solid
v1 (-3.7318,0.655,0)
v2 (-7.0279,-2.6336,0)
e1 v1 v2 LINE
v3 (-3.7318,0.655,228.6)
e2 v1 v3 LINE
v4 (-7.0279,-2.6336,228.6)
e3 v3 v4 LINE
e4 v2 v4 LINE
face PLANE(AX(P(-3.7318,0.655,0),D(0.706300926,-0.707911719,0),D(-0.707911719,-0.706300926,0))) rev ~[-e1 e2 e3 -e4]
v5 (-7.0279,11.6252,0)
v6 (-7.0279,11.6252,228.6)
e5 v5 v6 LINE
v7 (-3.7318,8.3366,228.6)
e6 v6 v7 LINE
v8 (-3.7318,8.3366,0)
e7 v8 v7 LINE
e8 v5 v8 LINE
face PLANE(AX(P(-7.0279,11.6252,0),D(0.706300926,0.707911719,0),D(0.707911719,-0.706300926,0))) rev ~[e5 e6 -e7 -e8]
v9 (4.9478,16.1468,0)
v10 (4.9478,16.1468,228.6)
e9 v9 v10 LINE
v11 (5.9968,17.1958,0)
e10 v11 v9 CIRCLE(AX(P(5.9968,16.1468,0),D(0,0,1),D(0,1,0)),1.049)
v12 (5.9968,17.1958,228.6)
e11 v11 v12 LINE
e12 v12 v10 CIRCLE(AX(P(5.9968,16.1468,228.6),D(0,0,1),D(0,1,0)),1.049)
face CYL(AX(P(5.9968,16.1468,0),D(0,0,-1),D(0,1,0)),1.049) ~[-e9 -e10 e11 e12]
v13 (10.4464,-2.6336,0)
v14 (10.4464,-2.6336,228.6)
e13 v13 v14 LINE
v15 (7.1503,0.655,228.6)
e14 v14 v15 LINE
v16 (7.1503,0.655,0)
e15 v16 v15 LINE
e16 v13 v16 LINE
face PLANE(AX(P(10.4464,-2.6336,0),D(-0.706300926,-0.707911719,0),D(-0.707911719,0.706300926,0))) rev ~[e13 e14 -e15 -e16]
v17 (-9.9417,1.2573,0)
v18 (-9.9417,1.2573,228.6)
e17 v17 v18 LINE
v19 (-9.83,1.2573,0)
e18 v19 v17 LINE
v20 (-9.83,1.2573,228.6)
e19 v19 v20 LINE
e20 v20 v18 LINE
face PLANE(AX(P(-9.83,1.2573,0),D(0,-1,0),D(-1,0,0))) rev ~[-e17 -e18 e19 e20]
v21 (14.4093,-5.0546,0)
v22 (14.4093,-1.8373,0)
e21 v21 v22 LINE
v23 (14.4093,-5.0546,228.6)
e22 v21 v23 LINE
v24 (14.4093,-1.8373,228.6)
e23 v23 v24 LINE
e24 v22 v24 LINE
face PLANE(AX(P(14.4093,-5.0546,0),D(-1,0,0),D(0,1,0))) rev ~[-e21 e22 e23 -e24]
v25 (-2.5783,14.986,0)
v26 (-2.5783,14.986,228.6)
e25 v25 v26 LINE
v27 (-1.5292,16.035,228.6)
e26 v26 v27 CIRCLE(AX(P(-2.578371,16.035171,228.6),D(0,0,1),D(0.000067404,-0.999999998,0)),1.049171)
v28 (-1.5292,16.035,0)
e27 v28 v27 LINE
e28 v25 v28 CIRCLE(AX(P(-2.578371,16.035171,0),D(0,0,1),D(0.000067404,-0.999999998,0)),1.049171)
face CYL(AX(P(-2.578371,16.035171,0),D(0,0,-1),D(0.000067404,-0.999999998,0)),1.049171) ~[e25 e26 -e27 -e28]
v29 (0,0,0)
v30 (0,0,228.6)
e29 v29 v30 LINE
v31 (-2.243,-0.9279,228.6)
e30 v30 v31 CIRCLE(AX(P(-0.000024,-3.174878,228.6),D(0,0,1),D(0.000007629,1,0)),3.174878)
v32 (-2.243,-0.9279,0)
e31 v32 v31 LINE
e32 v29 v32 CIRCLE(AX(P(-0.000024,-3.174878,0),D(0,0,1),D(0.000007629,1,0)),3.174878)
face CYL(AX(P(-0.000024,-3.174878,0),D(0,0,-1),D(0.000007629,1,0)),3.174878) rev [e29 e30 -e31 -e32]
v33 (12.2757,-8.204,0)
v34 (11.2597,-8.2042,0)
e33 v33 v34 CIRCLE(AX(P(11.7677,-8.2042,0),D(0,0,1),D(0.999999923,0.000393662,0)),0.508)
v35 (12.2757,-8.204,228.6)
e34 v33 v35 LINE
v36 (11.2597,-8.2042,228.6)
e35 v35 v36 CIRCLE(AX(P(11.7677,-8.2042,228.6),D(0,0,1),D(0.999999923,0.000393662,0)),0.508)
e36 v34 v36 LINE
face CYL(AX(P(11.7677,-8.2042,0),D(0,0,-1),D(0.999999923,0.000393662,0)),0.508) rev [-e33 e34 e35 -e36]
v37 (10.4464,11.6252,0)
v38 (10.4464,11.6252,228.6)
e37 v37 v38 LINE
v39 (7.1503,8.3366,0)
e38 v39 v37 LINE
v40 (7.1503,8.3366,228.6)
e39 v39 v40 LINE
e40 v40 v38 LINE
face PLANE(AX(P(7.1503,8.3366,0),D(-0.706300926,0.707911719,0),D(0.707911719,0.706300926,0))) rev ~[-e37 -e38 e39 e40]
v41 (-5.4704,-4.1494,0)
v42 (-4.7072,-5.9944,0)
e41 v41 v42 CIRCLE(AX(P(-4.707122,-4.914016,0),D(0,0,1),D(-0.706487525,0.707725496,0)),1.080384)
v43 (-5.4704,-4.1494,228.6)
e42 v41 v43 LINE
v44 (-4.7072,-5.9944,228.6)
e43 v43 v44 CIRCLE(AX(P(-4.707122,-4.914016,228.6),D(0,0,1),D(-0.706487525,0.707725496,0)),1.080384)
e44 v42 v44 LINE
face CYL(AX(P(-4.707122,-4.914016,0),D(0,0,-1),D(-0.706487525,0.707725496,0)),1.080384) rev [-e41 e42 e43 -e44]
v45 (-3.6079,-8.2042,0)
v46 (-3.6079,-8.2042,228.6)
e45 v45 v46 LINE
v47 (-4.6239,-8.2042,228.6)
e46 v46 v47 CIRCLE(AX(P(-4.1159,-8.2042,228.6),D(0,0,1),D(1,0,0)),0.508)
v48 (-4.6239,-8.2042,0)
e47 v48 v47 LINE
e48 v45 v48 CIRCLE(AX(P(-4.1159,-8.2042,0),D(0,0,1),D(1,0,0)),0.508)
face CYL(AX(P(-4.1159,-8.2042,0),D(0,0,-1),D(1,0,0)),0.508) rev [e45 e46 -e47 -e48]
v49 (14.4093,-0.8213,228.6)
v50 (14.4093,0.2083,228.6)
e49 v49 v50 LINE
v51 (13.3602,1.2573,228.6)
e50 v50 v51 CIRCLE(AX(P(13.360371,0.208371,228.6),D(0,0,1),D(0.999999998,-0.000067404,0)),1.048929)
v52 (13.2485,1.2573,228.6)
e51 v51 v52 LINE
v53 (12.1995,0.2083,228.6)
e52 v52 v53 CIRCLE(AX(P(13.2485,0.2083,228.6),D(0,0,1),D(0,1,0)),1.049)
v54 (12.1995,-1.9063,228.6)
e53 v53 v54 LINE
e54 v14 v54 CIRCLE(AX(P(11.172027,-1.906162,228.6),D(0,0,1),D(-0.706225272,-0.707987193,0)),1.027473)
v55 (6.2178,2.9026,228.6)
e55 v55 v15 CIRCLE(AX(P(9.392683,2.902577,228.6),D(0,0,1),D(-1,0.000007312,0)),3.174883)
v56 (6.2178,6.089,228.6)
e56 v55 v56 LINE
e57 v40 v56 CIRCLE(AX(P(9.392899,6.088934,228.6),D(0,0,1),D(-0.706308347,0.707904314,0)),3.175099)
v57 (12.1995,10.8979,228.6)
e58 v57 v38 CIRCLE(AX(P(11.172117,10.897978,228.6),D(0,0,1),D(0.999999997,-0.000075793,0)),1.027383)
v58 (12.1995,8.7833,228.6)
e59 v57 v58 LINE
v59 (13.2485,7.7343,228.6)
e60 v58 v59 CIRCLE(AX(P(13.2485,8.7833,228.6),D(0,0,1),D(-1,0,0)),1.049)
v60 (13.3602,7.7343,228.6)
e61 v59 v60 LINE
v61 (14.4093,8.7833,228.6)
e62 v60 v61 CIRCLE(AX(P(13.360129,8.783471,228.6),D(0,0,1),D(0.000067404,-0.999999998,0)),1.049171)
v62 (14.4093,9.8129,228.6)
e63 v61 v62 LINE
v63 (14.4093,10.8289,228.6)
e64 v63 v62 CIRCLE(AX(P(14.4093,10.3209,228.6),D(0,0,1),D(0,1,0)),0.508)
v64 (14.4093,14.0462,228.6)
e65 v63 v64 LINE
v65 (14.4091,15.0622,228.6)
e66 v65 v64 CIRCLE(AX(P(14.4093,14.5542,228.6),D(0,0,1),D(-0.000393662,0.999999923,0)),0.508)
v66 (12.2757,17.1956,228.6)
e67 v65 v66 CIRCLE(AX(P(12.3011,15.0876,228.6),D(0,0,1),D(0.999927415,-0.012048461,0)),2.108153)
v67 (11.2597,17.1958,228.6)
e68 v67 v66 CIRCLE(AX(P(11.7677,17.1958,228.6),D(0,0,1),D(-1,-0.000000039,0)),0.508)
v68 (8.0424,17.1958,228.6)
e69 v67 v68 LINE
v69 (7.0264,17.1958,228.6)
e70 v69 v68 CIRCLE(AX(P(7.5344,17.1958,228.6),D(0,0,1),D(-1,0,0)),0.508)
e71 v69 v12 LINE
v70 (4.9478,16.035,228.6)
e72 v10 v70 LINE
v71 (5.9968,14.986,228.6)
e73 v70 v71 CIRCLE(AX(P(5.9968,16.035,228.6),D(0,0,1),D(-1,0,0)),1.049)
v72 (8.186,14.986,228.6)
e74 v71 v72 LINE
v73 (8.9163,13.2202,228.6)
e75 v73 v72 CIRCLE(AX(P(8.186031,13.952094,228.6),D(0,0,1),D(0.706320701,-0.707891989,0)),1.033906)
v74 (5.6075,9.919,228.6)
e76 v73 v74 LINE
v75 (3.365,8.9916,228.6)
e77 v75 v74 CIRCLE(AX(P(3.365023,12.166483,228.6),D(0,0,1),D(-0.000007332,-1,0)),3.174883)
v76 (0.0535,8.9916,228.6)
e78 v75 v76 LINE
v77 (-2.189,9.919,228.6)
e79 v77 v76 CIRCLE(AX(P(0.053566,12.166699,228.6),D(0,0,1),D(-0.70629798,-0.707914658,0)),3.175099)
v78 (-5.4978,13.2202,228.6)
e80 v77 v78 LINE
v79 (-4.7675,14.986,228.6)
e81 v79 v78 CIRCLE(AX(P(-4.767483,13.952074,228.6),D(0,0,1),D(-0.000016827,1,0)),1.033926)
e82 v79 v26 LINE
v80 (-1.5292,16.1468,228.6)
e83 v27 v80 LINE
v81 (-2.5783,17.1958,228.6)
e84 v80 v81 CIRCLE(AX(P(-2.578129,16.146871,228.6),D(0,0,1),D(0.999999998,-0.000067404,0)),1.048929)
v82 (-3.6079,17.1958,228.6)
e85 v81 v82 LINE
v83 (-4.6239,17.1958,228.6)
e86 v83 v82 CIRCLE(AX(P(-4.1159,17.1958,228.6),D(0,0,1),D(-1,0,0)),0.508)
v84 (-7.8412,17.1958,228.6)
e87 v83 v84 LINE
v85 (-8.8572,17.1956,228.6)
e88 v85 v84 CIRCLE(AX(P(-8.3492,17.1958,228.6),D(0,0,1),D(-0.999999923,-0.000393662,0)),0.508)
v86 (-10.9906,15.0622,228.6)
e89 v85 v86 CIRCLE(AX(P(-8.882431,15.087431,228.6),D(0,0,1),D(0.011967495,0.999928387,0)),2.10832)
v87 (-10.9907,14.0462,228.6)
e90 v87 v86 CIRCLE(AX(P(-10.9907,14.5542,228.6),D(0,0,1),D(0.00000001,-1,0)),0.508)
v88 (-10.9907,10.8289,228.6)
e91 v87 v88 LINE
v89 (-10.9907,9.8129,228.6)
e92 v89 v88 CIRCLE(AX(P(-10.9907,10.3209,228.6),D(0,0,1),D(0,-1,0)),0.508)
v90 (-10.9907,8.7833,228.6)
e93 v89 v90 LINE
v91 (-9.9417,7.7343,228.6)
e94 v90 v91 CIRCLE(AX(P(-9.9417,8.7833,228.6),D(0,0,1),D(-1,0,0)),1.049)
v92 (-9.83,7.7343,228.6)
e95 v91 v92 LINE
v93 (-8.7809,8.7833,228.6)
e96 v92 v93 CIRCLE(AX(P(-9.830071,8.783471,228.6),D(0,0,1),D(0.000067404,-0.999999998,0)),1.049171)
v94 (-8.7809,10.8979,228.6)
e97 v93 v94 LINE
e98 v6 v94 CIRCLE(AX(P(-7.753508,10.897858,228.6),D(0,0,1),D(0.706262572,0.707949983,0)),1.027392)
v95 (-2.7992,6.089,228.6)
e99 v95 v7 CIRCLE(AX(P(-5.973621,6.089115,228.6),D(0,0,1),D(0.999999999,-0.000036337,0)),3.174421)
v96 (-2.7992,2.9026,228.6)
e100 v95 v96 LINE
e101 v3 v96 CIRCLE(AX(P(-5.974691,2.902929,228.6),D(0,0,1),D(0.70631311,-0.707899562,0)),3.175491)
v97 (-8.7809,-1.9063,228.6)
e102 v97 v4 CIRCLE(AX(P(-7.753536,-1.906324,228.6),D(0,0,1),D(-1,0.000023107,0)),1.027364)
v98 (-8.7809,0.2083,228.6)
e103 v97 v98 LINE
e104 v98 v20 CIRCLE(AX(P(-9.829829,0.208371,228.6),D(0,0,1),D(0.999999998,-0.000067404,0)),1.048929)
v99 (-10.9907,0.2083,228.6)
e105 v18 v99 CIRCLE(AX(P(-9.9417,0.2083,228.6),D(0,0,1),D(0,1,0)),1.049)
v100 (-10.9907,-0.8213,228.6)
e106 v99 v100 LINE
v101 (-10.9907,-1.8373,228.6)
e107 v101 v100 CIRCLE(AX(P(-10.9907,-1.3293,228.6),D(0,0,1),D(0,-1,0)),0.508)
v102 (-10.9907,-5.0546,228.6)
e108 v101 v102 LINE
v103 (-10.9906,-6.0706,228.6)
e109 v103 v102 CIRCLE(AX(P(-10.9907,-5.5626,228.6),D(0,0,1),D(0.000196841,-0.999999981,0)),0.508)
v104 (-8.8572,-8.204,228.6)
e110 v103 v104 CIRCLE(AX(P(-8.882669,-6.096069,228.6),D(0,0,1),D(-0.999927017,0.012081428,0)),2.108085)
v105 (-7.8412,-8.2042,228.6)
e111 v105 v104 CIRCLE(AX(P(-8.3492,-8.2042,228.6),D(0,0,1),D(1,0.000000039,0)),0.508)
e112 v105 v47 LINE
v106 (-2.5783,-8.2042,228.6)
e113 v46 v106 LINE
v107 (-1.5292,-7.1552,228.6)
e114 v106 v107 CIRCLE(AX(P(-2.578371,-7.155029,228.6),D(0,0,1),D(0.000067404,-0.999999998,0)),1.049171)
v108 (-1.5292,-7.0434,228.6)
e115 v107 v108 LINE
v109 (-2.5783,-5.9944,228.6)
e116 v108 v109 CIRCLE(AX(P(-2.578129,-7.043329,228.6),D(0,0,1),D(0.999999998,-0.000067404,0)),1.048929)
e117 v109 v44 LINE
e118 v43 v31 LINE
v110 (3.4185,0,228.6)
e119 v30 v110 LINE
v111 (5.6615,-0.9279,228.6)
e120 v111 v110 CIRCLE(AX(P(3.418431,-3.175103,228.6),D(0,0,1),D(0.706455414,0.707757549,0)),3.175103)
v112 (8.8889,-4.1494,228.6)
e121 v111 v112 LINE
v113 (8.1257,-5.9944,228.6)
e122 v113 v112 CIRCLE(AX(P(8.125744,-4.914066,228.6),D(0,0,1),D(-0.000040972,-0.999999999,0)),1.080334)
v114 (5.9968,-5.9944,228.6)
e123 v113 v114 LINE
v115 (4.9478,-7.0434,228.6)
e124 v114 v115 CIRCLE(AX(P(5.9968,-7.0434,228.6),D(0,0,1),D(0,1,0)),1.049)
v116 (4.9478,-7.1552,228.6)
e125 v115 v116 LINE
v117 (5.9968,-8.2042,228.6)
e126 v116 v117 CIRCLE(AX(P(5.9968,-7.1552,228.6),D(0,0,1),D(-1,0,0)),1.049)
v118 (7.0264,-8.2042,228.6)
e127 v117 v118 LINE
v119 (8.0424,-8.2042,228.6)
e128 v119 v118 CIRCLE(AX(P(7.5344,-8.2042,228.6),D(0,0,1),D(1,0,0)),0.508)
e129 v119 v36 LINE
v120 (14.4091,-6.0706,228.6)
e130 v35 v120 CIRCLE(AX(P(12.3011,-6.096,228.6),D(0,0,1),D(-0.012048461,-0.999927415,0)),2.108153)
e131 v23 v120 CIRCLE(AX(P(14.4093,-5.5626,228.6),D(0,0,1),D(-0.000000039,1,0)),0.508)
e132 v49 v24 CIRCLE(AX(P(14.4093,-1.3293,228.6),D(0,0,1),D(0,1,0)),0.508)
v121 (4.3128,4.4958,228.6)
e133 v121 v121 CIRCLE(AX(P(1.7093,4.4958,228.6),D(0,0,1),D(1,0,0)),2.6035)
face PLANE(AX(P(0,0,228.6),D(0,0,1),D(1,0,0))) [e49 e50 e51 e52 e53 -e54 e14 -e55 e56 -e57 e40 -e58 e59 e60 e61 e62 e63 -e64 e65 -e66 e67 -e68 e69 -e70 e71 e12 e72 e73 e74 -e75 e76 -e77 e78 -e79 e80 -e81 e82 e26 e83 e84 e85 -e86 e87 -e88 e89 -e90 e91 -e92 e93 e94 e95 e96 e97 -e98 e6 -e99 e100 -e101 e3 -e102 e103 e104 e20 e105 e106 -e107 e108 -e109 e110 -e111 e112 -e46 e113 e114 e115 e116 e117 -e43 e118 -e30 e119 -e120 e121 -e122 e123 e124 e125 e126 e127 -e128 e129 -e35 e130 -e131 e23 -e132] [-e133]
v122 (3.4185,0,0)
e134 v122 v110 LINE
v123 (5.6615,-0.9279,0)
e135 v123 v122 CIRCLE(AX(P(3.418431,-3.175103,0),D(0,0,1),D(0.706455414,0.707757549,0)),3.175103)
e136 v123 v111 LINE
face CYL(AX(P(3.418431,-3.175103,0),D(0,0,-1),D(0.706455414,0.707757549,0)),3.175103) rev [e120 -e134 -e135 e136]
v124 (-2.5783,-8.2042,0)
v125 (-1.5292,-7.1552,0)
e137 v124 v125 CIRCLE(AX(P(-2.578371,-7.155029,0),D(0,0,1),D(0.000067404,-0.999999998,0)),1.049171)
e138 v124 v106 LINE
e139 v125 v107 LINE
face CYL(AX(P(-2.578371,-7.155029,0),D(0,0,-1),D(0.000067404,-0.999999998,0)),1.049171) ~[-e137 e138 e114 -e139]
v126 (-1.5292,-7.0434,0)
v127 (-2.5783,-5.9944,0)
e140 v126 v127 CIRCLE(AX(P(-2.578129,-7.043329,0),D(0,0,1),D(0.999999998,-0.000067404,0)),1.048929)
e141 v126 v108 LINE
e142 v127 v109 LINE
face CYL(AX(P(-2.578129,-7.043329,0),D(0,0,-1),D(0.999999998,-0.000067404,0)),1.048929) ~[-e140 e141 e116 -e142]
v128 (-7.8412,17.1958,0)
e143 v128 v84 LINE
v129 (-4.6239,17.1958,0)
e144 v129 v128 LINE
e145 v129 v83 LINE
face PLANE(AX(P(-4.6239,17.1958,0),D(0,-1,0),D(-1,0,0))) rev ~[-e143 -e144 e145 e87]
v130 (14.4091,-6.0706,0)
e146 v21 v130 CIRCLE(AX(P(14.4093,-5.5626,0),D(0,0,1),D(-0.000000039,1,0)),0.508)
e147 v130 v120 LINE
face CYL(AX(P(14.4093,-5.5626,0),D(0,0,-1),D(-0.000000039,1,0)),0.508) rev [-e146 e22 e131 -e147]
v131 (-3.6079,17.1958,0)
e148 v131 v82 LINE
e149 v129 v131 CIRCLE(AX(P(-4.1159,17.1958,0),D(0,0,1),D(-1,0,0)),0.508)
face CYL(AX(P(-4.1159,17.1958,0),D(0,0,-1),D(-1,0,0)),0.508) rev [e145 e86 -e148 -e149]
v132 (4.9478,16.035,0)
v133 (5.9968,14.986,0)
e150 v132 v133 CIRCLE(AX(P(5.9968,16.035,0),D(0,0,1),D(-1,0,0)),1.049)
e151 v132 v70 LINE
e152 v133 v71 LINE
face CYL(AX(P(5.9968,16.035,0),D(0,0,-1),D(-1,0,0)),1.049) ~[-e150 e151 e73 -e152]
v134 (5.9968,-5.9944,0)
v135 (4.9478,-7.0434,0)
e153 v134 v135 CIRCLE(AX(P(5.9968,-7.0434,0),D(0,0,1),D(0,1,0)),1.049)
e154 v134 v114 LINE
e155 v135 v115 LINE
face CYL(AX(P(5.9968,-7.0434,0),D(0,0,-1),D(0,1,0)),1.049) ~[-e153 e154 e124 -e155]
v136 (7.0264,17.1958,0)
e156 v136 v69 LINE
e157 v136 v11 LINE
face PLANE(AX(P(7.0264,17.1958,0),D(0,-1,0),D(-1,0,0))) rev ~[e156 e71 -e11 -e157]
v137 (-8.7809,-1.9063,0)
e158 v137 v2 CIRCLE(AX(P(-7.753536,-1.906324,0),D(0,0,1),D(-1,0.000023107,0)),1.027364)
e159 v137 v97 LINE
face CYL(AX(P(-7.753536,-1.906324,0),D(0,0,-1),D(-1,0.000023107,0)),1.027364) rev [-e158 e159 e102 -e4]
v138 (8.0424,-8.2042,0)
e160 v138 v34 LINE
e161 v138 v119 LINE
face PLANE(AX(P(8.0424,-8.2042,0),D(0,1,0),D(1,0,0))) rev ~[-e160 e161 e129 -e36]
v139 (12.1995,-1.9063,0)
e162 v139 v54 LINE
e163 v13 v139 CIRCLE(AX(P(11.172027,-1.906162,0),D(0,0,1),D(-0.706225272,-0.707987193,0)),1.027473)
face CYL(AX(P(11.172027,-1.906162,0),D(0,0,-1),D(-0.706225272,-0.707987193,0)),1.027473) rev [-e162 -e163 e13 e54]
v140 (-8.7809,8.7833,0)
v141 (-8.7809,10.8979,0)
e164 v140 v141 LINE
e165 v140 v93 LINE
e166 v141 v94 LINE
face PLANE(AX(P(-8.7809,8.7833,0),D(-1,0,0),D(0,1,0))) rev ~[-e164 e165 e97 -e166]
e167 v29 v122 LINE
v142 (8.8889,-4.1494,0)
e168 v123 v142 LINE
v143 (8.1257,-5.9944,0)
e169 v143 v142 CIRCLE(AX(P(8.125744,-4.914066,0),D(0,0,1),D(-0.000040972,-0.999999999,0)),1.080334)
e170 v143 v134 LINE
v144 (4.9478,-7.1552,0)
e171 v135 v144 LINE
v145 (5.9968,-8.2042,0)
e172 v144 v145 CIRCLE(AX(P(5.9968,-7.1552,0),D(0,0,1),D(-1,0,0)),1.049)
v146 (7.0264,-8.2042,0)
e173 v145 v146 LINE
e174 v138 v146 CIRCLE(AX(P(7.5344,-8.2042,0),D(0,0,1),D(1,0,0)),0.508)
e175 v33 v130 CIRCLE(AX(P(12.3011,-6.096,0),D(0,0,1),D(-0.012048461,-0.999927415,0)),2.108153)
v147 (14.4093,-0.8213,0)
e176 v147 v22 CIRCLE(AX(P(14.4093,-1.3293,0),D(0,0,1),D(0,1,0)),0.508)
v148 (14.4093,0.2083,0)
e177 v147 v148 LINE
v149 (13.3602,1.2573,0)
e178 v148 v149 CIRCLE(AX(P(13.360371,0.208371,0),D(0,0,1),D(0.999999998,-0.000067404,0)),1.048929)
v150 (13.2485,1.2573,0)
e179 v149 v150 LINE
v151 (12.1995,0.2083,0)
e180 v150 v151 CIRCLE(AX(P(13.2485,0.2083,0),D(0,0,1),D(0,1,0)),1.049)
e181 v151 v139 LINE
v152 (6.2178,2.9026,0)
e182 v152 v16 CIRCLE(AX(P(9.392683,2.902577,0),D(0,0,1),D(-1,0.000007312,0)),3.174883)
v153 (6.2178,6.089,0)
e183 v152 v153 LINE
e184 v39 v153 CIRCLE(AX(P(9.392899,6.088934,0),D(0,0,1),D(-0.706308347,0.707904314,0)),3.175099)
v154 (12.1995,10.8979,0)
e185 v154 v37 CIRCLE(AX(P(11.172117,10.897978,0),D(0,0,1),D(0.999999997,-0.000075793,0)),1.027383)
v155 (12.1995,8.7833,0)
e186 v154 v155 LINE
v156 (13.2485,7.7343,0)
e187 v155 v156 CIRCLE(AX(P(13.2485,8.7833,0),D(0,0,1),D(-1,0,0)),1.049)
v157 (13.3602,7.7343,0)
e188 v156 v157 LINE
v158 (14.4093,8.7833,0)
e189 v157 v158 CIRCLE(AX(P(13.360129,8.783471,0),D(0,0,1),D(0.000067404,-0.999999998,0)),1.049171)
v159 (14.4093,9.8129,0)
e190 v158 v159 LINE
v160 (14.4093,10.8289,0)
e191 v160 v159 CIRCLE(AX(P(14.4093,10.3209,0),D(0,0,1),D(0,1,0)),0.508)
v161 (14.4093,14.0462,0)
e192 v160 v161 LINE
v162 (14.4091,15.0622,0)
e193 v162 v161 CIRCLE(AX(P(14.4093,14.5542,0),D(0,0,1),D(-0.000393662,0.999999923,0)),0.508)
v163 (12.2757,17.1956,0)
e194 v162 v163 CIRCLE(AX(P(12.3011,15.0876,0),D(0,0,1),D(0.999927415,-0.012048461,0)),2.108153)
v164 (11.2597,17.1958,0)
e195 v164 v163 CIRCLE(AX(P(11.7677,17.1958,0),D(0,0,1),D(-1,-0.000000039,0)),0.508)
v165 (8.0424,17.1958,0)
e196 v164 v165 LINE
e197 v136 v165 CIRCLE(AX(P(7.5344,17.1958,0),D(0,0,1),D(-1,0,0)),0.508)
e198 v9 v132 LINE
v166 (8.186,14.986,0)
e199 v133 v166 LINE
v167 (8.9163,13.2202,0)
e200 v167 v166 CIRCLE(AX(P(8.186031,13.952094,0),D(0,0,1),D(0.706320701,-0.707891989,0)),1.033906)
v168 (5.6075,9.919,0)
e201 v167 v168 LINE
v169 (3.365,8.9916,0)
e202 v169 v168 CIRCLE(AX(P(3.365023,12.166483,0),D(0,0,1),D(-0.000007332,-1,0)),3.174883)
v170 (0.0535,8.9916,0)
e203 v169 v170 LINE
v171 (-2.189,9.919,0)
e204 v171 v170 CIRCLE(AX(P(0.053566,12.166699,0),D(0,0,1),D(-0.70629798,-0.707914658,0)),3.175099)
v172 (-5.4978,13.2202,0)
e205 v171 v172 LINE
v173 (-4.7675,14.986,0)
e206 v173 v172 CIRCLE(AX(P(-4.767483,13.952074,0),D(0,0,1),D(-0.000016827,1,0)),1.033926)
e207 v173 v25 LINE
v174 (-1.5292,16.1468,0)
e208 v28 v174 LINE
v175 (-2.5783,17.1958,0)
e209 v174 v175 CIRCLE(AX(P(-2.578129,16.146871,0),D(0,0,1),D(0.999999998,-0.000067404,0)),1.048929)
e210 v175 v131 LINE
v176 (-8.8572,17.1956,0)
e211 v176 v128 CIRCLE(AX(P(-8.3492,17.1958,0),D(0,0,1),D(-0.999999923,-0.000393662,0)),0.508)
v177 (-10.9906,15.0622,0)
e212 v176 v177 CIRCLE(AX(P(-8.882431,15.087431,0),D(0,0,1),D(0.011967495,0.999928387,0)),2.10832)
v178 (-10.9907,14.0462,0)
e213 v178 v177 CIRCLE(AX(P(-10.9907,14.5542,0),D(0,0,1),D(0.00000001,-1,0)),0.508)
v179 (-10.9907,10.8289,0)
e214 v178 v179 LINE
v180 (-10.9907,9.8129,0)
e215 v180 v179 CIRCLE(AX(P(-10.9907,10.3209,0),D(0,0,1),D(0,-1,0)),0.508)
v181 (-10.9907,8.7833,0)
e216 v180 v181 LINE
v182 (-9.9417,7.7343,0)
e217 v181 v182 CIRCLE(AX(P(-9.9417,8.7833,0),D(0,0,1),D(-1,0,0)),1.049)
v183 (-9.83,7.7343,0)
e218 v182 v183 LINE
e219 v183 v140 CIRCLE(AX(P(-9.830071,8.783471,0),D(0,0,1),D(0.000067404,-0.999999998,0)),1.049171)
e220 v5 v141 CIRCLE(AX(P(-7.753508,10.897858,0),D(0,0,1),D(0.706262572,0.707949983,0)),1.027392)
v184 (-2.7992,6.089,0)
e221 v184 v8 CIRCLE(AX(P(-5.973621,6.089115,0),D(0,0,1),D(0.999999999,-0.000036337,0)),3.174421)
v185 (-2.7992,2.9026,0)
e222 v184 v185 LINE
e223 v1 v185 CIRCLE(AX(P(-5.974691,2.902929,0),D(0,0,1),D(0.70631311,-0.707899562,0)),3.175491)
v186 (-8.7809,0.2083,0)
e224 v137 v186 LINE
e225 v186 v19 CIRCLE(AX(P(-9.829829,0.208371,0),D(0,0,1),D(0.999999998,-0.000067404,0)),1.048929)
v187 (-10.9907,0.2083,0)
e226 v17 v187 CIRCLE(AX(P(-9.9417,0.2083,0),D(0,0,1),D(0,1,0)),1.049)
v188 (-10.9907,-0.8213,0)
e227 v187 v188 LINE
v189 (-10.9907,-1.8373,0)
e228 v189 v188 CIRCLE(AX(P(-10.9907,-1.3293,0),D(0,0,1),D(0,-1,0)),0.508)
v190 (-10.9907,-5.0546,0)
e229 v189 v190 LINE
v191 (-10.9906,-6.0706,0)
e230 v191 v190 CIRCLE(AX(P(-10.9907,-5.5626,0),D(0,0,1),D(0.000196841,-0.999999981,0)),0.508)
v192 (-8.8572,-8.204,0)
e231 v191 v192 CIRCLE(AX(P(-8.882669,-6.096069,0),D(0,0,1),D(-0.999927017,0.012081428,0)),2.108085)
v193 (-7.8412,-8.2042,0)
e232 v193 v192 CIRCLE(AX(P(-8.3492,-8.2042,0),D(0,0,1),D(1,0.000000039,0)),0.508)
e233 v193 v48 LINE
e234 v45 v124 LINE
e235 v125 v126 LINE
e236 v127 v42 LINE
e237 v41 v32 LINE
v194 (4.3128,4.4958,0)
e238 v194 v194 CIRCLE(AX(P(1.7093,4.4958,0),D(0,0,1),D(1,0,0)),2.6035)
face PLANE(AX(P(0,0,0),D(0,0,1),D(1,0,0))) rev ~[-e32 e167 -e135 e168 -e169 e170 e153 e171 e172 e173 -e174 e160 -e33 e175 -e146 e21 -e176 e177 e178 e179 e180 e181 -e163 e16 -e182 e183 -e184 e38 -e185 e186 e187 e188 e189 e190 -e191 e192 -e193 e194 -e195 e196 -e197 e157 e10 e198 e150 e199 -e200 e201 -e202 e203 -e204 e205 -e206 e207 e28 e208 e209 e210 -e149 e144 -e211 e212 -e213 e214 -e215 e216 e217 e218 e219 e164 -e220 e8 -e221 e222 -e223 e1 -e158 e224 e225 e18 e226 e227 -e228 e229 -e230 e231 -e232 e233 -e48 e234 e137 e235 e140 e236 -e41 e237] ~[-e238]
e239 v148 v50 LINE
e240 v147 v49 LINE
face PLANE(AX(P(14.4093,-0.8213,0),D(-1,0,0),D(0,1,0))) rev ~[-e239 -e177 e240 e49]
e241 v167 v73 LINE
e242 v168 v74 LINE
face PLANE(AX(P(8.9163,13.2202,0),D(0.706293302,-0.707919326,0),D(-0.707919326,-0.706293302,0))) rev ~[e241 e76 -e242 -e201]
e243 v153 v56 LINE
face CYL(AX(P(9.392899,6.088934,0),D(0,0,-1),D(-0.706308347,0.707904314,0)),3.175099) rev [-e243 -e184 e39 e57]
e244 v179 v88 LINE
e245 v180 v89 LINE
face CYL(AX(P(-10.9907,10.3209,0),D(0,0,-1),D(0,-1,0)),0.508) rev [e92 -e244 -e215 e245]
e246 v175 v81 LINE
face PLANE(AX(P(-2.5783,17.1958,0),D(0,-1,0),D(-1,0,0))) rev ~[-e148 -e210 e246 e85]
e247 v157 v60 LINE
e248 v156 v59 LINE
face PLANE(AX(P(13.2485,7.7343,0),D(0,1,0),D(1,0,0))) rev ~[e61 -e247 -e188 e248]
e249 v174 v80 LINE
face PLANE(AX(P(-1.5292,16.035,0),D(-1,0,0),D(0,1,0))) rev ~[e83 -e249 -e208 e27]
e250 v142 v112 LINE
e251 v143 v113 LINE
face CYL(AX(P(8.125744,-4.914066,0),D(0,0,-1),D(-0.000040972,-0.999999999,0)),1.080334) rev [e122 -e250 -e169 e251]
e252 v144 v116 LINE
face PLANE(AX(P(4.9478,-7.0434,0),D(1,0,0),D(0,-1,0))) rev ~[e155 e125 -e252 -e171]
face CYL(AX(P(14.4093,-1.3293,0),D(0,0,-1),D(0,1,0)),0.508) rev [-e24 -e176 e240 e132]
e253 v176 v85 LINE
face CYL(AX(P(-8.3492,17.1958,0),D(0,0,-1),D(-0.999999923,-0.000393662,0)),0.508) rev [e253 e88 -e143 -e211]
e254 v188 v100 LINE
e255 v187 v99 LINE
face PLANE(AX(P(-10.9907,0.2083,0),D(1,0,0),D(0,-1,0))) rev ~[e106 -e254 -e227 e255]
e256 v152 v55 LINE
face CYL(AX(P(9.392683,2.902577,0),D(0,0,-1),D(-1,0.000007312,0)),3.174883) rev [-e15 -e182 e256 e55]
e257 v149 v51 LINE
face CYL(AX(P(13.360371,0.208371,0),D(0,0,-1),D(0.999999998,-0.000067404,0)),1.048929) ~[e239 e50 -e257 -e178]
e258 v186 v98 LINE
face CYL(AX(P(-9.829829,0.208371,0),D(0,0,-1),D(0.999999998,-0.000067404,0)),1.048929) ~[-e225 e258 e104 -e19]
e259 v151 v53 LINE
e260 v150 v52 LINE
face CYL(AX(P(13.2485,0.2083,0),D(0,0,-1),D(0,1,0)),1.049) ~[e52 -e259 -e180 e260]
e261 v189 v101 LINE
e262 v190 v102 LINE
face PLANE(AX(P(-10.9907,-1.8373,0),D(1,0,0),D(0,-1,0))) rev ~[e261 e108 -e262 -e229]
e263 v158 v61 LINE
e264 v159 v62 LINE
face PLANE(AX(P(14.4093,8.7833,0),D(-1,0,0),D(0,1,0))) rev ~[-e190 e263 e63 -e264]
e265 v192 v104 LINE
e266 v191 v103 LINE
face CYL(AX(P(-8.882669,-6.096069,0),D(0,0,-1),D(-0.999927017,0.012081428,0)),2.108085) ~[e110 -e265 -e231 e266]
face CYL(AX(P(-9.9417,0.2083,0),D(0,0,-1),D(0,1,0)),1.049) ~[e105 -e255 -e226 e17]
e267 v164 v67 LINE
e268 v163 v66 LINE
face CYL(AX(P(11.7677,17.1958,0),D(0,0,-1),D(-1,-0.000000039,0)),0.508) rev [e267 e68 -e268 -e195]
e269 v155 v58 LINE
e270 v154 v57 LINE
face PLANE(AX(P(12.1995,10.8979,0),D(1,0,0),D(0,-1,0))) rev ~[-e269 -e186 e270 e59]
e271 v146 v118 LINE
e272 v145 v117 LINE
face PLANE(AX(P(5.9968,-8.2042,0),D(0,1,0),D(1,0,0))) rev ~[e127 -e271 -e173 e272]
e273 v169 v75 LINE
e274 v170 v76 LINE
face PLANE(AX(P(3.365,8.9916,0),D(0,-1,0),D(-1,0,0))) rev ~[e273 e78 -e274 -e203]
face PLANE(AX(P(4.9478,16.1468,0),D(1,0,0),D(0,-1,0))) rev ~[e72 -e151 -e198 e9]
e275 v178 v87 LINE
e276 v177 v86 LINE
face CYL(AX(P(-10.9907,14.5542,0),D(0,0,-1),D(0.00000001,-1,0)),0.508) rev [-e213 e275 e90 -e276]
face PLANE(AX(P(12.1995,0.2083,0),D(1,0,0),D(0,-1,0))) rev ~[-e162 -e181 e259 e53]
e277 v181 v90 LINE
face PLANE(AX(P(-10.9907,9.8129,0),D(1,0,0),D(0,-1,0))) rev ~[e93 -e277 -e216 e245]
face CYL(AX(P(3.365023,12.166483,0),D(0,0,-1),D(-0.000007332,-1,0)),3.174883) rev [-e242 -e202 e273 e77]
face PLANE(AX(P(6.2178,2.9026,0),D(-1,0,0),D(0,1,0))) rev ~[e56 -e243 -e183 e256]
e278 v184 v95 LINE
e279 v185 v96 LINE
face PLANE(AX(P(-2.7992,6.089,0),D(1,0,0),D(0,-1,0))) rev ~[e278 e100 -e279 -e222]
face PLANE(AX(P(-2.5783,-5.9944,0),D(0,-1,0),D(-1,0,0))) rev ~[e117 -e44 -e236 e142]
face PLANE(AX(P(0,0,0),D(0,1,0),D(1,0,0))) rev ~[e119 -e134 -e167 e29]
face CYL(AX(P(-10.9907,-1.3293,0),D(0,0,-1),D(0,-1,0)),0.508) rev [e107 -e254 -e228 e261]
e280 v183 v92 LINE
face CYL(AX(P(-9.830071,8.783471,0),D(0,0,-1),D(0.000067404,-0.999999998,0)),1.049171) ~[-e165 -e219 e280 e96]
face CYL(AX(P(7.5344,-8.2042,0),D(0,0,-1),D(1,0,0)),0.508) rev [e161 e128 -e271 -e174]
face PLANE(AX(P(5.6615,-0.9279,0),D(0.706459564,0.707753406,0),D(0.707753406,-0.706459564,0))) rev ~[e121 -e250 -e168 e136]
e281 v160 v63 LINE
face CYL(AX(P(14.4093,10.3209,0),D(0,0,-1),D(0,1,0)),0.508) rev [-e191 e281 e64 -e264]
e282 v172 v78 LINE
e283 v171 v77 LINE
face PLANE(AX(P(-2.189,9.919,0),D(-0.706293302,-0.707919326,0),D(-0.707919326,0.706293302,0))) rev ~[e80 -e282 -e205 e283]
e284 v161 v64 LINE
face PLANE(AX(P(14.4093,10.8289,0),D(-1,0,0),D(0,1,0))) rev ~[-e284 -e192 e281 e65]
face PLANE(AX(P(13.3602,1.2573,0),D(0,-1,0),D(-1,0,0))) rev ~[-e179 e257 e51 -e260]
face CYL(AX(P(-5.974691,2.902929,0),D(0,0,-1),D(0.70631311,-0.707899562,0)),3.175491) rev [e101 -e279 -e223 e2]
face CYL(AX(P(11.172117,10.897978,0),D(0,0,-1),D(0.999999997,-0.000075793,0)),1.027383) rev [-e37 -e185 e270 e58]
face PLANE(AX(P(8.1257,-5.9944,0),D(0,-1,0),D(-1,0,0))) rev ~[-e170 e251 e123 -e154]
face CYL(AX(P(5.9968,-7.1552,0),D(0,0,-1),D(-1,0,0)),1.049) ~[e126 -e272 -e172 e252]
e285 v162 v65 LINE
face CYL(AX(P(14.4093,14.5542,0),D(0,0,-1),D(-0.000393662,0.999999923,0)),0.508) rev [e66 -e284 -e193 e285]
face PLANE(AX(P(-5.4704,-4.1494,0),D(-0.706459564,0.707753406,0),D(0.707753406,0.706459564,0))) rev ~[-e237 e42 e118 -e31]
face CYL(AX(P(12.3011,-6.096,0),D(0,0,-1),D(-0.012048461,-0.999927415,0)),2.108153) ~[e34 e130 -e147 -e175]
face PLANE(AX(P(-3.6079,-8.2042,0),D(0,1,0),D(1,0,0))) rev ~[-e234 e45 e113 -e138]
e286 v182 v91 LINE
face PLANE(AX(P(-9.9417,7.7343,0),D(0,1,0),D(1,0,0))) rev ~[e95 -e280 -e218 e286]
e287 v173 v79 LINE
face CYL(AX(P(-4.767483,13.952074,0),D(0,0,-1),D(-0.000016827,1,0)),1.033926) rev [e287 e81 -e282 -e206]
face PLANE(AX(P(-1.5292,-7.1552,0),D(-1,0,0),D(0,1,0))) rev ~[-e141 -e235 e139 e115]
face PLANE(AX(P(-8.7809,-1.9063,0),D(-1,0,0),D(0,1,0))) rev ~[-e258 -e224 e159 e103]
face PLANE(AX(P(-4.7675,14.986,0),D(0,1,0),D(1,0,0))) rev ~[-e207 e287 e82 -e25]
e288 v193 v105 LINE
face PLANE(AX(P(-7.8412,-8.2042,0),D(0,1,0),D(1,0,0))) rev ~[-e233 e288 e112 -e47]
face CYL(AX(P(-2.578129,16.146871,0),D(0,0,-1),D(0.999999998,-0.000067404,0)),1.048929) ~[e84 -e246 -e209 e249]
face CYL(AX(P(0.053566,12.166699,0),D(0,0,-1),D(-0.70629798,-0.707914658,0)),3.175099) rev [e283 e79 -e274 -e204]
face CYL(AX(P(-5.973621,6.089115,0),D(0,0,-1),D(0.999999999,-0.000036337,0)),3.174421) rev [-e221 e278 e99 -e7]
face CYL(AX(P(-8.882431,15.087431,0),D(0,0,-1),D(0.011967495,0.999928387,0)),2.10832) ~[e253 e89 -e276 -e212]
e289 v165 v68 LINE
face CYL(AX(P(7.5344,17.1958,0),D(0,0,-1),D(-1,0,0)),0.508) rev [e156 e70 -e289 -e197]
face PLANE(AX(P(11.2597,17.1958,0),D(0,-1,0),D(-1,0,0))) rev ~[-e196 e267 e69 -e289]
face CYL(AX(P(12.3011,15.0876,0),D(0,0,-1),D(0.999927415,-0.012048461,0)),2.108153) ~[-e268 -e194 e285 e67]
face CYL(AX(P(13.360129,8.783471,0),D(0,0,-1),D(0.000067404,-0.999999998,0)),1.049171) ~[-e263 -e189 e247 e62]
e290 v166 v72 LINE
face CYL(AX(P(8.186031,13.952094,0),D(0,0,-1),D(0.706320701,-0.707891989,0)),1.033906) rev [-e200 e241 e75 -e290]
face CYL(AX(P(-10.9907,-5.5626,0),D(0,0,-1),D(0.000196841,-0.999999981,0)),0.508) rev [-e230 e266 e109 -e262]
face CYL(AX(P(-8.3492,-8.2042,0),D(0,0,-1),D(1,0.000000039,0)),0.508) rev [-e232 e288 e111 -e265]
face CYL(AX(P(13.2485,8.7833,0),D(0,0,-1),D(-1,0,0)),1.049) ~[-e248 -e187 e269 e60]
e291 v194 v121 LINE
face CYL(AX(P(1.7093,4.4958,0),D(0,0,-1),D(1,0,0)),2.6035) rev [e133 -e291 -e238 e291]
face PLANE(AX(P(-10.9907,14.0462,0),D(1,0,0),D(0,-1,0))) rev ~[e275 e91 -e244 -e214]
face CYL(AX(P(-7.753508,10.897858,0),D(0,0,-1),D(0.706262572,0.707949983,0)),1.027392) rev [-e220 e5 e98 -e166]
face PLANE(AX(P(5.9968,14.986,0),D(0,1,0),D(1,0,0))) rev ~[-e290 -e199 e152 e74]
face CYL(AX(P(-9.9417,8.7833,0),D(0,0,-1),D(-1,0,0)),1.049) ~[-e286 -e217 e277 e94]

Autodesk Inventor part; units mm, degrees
ref_plane "YZ Plane" through (0, 0, 0) normal (1, 0, 0) x (0, 1, 0)
ref_plane "XZ Plane" through (0, 0, 0) normal (0, 1, 0) x (-1, 0, 0)
ref_plane "XY Plane" through (0, 0, 0) normal (0, 0, 1) x (1, 0, 0)
sketch "Sketch1" plane through (0, 0, 0) normal (0, 0, 1) x (1, 0, 0)
  arc A0 (-5.4704, -4.1494) -> (-4.7072, -5.9944) centre (-4.7072, -4.914) ccw
  line L0 (-5.4704, -4.1494) -> (-2.243, -0.9279)
  arc A1 (0, 0) -> (-2.243, -0.9279) centre (0, -3.175) ccw
  line L1 (0, 0) -> (3.4185, 0)
  arc A2 (5.6615, -0.9279) -> (3.4185, 0) centre (3.4185, -3.175) ccw
  line L2 (5.6615, -0.9279) -> (8.8889, -4.1494)
  arc A3 (8.1257, -5.9944) -> (8.8889, -4.1494) centre (8.1257, -4.914) ccw
  line L3 (8.1257, -5.9944) -> (5.9968, -5.9944)
  arc A4 (5.9968, -5.9944) -> (4.9478, -7.0434) centre (5.9968, -7.0434) ccw
  line L4 (4.9478, -7.0434) -> (4.9478, -7.1552)
  arc A5 (4.9478, -7.1552) -> (5.9968, -8.2042) centre (5.9968, -7.1552) ccw
  line L5 (5.9968, -8.2042) -> (7.0264, -8.2042)
  arc A6 (8.0424, -8.2042) -> (7.0264, -8.2042) centre (7.5344, -8.2042) ccw
  line L6 (8.0424, -8.2042) -> (11.2597, -8.2042)
  arc A7 (12.2757, -8.204) -> (11.2597, -8.2042) centre (11.7677, -8.2042) ccw
  arc A8 (12.2757, -8.204) -> (14.4091, -6.0706) centre (12.3011, -6.096) ccw
  arc A9 (14.4093, -5.0546) -> (14.4091, -6.0706) centre (14.4093, -5.5626) ccw
  line L7 (14.4093, -5.0546) -> (14.4093, -1.8373)
  arc A10 (14.4093, -0.8213) -> (14.4093, -1.8373) centre (14.4093, -1.3293) ccw
  line L8 (14.4093, -0.8213) -> (14.4093, 0.2083)
  arc A11 (14.4093, 0.2083) -> (13.3602, 1.2573) centre (13.3602, 0.2083) ccw
  line L9 (13.3602, 1.2573) -> (13.2485, 1.2573)
  arc A12 (13.2485, 1.2573) -> (12.1995, 0.2083) centre (13.2485, 0.2083) ccw
  line L10 (12.1995, 0.2083) -> (12.1995, -1.9063)
  arc A13 (10.4464, -2.6336) -> (12.1995, -1.9063) centre (11.172, -1.9063) ccw
  line L11 (10.4464, -2.6336) -> (7.1503, 0.655)
  arc A14 (6.2178, 2.9026) -> (7.1503, 0.655) centre (9.3928, 2.9026) ccw
  line L12 (6.2178, 2.9026) -> (6.2178, 6.089)
  arc A15 (7.1503, 8.3366) -> (6.2178, 6.089) centre (9.3928, 6.089) ccw
  line L13 (7.1503, 8.3366) -> (10.4464, 11.6252)
  arc A16 (12.1995, 10.8979) -> (10.4464, 11.6252) centre (11.172, 10.8979) ccw
  line L14 (12.1995, 10.8979) -> (12.1995, 8.7833)
  arc A17 (12.1995, 8.7833) -> (13.2485, 7.7343) centre (13.2485, 8.7833) ccw
  line L15 (13.2485, 7.7343) -> (13.3602, 7.7343)
  arc A18 (13.3602, 7.7343) -> (14.4093, 8.7833) centre (13.3602, 8.7833) ccw
  line L16 (14.4093, 8.7833) -> (14.4093, 9.8129)
  arc A19 (14.4093, 10.8289) -> (14.4093, 9.8129) centre (14.4093, 10.3209) ccw
  line L17 (14.4093, 10.8289) -> (14.4093, 14.0462)
  arc A20 (14.4091, 15.0622) -> (14.4093, 14.0462) centre (14.4093, 14.5542) ccw
  arc A21 (14.4091, 15.0622) -> (12.2757, 17.1956) centre (12.3011, 15.0876) ccw
  arc A22 (11.2597, 17.1958) -> (12.2757, 17.1956) centre (11.7677, 17.1958) ccw
  line L18 (11.2597, 17.1958) -> (8.0424, 17.1958)
  arc A23 (7.0264, 17.1958) -> (8.0424, 17.1958) centre (7.5344, 17.1958) ccw
  line L19 (7.0264, 17.1958) -> (5.9968, 17.1958)
  arc A24 (5.9968, 17.1958) -> (4.9478, 16.1468) centre (5.9968, 16.1468) ccw
  line L20 (4.9478, 16.1468) -> (4.9478, 16.035)
  arc A25 (4.9478, 16.035) -> (5.9968, 14.986) centre (5.9968, 16.035) ccw
  line L21 (5.9968, 14.986) -> (8.186, 14.986)
  arc A26 (8.9163, 13.2202) -> (8.186, 14.986) centre (8.186, 13.9521) ccw
  line L22 (8.9163, 13.2202) -> (5.6075, 9.919)
  arc A27 (3.365, 8.9916) -> (5.6075, 9.919) centre (3.365, 12.1666) ccw
  line L23 (3.365, 8.9916) -> (0.0535, 8.9916)
  arc A28 (-2.189, 9.919) -> (0.0535, 8.9916) centre (0.0535, 12.1666) ccw
  line L24 (-2.189, 9.919) -> (-5.4978, 13.2202)
  arc A29 (-4.7675, 14.986) -> (-5.4978, 13.2202) centre (-4.7675, 13.9521) ccw
  line L25 (-4.7675, 14.986) -> (-2.5783, 14.986)
  arc A30 (-2.5783, 14.986) -> (-1.5292, 16.035) centre (-2.5783, 16.035) ccw
  line L26 (-1.5292, 16.035) -> (-1.5292, 16.1468)
  arc A31 (-1.5292, 16.1468) -> (-2.5783, 17.1958) centre (-2.5783, 16.1468) ccw
  line L27 (-2.5783, 17.1958) -> (-3.6079, 17.1958)
  arc A32 (-4.6239, 17.1958) -> (-3.6079, 17.1958) centre (-4.1159, 17.1958) ccw
  line L28 (-4.6239, 17.1958) -> (-7.8412, 17.1958)
  arc A33 (-8.8572, 17.1956) -> (-7.8412, 17.1958) centre (-8.3492, 17.1958) ccw
  arc A34 (-8.8572, 17.1956) -> (-10.9906, 15.0622) centre (-8.8825, 15.0876) ccw
  arc A35 (-10.9907, 14.0462) -> (-10.9906, 15.0622) centre (-10.9907, 14.5542) ccw
  line L29 (-10.9907, 14.0462) -> (-10.9907, 10.8289)
  arc A36 (-10.9907, 9.8129) -> (-10.9907, 10.8289) centre (-10.9907, 10.3209) ccw
  line L30 (-10.9907, 9.8129) -> (-10.9907, 8.7833)
  arc A37 (-10.9907, 8.7833) -> (-9.9417, 7.7343) centre (-9.9417, 8.7833) ccw
  line L31 (-9.9417, 7.7343) -> (-9.83, 7.7343)
  arc A38 (-9.83, 7.7343) -> (-8.7809, 8.7833) centre (-9.83, 8.7833) ccw
  line L32 (-8.7809, 8.7833) -> (-8.7809, 10.8979)
  arc A39 (-7.0279, 11.6252) -> (-8.7809, 10.8979) centre (-7.7535, 10.8979) ccw
  line L33 (-7.0279, 11.6252) -> (-3.7318, 8.3366)
  arc A40 (-2.7992, 6.089) -> (-3.7318, 8.3366) centre (-5.9742, 6.089) ccw
  line L34 (-2.7992, 6.089) -> (-2.7992, 2.9026)
  arc A41 (-3.7318, 0.655) -> (-2.7992, 2.9026) centre (-5.9742, 2.9026) ccw
  line L35 (-3.7318, 0.655) -> (-7.0279, -2.6336)
  arc A42 (-8.7809, -1.9063) -> (-7.0279, -2.6336) centre (-7.7535, -1.9063) ccw
  line L36 (-8.7809, -1.9063) -> (-8.7809, 0.2083)
  arc A43 (-8.7809, 0.2083) -> (-9.83, 1.2573) centre (-9.83, 0.2083) ccw
  line L37 (-9.83, 1.2573) -> (-9.9417, 1.2573)
  arc A44 (-9.9417, 1.2573) -> (-10.9907, 0.2083) centre (-9.9417, 0.2083) ccw
  line L38 (-10.9907, 0.2083) -> (-10.9907, -0.8213)
  arc A45 (-10.9907, -1.8373) -> (-10.9907, -0.8213) centre (-10.9907, -1.3293) ccw
  line L39 (-10.9907, -1.8373) -> (-10.9907, -5.0546)
  arc A46 (-10.9906, -6.0706) -> (-10.9907, -5.0546) centre (-10.9907, -5.5626) ccw
  arc A47 (-10.9906, -6.0706) -> (-8.8572, -8.204) centre (-8.8825, -6.096) ccw
  arc A48 (-7.8412, -8.2042) -> (-8.8572, -8.204) centre (-8.3492, -8.2042) ccw
  line L40 (-7.8412, -8.2042) -> (-4.6239, -8.2042)
  arc A49 (-3.6079, -8.2042) -> (-4.6239, -8.2042) centre (-4.1159, -8.2042) ccw
  line L41 (-3.6079, -8.2042) -> (-2.5783, -8.2042)
  arc A50 (-2.5783, -8.2042) -> (-1.5292, -7.1552) centre (-2.5783, -7.1552) ccw
  line L42 (-1.5292, -7.1552) -> (-1.5292, -7.0434)
  arc A51 (-1.5292, -7.0434) -> (-2.5783, -5.9944) centre (-2.5783, -7.0434) ccw
  line L43 (-2.5783, -5.9944) -> (-4.7072, -5.9944)
  circle A52 centre (1.7093, 4.4958) radius 2.6035
extrude "Extrusion1" add sketch "Sketch1" along normal blind 228.6
properties part number "9in 1x1 T slot"
